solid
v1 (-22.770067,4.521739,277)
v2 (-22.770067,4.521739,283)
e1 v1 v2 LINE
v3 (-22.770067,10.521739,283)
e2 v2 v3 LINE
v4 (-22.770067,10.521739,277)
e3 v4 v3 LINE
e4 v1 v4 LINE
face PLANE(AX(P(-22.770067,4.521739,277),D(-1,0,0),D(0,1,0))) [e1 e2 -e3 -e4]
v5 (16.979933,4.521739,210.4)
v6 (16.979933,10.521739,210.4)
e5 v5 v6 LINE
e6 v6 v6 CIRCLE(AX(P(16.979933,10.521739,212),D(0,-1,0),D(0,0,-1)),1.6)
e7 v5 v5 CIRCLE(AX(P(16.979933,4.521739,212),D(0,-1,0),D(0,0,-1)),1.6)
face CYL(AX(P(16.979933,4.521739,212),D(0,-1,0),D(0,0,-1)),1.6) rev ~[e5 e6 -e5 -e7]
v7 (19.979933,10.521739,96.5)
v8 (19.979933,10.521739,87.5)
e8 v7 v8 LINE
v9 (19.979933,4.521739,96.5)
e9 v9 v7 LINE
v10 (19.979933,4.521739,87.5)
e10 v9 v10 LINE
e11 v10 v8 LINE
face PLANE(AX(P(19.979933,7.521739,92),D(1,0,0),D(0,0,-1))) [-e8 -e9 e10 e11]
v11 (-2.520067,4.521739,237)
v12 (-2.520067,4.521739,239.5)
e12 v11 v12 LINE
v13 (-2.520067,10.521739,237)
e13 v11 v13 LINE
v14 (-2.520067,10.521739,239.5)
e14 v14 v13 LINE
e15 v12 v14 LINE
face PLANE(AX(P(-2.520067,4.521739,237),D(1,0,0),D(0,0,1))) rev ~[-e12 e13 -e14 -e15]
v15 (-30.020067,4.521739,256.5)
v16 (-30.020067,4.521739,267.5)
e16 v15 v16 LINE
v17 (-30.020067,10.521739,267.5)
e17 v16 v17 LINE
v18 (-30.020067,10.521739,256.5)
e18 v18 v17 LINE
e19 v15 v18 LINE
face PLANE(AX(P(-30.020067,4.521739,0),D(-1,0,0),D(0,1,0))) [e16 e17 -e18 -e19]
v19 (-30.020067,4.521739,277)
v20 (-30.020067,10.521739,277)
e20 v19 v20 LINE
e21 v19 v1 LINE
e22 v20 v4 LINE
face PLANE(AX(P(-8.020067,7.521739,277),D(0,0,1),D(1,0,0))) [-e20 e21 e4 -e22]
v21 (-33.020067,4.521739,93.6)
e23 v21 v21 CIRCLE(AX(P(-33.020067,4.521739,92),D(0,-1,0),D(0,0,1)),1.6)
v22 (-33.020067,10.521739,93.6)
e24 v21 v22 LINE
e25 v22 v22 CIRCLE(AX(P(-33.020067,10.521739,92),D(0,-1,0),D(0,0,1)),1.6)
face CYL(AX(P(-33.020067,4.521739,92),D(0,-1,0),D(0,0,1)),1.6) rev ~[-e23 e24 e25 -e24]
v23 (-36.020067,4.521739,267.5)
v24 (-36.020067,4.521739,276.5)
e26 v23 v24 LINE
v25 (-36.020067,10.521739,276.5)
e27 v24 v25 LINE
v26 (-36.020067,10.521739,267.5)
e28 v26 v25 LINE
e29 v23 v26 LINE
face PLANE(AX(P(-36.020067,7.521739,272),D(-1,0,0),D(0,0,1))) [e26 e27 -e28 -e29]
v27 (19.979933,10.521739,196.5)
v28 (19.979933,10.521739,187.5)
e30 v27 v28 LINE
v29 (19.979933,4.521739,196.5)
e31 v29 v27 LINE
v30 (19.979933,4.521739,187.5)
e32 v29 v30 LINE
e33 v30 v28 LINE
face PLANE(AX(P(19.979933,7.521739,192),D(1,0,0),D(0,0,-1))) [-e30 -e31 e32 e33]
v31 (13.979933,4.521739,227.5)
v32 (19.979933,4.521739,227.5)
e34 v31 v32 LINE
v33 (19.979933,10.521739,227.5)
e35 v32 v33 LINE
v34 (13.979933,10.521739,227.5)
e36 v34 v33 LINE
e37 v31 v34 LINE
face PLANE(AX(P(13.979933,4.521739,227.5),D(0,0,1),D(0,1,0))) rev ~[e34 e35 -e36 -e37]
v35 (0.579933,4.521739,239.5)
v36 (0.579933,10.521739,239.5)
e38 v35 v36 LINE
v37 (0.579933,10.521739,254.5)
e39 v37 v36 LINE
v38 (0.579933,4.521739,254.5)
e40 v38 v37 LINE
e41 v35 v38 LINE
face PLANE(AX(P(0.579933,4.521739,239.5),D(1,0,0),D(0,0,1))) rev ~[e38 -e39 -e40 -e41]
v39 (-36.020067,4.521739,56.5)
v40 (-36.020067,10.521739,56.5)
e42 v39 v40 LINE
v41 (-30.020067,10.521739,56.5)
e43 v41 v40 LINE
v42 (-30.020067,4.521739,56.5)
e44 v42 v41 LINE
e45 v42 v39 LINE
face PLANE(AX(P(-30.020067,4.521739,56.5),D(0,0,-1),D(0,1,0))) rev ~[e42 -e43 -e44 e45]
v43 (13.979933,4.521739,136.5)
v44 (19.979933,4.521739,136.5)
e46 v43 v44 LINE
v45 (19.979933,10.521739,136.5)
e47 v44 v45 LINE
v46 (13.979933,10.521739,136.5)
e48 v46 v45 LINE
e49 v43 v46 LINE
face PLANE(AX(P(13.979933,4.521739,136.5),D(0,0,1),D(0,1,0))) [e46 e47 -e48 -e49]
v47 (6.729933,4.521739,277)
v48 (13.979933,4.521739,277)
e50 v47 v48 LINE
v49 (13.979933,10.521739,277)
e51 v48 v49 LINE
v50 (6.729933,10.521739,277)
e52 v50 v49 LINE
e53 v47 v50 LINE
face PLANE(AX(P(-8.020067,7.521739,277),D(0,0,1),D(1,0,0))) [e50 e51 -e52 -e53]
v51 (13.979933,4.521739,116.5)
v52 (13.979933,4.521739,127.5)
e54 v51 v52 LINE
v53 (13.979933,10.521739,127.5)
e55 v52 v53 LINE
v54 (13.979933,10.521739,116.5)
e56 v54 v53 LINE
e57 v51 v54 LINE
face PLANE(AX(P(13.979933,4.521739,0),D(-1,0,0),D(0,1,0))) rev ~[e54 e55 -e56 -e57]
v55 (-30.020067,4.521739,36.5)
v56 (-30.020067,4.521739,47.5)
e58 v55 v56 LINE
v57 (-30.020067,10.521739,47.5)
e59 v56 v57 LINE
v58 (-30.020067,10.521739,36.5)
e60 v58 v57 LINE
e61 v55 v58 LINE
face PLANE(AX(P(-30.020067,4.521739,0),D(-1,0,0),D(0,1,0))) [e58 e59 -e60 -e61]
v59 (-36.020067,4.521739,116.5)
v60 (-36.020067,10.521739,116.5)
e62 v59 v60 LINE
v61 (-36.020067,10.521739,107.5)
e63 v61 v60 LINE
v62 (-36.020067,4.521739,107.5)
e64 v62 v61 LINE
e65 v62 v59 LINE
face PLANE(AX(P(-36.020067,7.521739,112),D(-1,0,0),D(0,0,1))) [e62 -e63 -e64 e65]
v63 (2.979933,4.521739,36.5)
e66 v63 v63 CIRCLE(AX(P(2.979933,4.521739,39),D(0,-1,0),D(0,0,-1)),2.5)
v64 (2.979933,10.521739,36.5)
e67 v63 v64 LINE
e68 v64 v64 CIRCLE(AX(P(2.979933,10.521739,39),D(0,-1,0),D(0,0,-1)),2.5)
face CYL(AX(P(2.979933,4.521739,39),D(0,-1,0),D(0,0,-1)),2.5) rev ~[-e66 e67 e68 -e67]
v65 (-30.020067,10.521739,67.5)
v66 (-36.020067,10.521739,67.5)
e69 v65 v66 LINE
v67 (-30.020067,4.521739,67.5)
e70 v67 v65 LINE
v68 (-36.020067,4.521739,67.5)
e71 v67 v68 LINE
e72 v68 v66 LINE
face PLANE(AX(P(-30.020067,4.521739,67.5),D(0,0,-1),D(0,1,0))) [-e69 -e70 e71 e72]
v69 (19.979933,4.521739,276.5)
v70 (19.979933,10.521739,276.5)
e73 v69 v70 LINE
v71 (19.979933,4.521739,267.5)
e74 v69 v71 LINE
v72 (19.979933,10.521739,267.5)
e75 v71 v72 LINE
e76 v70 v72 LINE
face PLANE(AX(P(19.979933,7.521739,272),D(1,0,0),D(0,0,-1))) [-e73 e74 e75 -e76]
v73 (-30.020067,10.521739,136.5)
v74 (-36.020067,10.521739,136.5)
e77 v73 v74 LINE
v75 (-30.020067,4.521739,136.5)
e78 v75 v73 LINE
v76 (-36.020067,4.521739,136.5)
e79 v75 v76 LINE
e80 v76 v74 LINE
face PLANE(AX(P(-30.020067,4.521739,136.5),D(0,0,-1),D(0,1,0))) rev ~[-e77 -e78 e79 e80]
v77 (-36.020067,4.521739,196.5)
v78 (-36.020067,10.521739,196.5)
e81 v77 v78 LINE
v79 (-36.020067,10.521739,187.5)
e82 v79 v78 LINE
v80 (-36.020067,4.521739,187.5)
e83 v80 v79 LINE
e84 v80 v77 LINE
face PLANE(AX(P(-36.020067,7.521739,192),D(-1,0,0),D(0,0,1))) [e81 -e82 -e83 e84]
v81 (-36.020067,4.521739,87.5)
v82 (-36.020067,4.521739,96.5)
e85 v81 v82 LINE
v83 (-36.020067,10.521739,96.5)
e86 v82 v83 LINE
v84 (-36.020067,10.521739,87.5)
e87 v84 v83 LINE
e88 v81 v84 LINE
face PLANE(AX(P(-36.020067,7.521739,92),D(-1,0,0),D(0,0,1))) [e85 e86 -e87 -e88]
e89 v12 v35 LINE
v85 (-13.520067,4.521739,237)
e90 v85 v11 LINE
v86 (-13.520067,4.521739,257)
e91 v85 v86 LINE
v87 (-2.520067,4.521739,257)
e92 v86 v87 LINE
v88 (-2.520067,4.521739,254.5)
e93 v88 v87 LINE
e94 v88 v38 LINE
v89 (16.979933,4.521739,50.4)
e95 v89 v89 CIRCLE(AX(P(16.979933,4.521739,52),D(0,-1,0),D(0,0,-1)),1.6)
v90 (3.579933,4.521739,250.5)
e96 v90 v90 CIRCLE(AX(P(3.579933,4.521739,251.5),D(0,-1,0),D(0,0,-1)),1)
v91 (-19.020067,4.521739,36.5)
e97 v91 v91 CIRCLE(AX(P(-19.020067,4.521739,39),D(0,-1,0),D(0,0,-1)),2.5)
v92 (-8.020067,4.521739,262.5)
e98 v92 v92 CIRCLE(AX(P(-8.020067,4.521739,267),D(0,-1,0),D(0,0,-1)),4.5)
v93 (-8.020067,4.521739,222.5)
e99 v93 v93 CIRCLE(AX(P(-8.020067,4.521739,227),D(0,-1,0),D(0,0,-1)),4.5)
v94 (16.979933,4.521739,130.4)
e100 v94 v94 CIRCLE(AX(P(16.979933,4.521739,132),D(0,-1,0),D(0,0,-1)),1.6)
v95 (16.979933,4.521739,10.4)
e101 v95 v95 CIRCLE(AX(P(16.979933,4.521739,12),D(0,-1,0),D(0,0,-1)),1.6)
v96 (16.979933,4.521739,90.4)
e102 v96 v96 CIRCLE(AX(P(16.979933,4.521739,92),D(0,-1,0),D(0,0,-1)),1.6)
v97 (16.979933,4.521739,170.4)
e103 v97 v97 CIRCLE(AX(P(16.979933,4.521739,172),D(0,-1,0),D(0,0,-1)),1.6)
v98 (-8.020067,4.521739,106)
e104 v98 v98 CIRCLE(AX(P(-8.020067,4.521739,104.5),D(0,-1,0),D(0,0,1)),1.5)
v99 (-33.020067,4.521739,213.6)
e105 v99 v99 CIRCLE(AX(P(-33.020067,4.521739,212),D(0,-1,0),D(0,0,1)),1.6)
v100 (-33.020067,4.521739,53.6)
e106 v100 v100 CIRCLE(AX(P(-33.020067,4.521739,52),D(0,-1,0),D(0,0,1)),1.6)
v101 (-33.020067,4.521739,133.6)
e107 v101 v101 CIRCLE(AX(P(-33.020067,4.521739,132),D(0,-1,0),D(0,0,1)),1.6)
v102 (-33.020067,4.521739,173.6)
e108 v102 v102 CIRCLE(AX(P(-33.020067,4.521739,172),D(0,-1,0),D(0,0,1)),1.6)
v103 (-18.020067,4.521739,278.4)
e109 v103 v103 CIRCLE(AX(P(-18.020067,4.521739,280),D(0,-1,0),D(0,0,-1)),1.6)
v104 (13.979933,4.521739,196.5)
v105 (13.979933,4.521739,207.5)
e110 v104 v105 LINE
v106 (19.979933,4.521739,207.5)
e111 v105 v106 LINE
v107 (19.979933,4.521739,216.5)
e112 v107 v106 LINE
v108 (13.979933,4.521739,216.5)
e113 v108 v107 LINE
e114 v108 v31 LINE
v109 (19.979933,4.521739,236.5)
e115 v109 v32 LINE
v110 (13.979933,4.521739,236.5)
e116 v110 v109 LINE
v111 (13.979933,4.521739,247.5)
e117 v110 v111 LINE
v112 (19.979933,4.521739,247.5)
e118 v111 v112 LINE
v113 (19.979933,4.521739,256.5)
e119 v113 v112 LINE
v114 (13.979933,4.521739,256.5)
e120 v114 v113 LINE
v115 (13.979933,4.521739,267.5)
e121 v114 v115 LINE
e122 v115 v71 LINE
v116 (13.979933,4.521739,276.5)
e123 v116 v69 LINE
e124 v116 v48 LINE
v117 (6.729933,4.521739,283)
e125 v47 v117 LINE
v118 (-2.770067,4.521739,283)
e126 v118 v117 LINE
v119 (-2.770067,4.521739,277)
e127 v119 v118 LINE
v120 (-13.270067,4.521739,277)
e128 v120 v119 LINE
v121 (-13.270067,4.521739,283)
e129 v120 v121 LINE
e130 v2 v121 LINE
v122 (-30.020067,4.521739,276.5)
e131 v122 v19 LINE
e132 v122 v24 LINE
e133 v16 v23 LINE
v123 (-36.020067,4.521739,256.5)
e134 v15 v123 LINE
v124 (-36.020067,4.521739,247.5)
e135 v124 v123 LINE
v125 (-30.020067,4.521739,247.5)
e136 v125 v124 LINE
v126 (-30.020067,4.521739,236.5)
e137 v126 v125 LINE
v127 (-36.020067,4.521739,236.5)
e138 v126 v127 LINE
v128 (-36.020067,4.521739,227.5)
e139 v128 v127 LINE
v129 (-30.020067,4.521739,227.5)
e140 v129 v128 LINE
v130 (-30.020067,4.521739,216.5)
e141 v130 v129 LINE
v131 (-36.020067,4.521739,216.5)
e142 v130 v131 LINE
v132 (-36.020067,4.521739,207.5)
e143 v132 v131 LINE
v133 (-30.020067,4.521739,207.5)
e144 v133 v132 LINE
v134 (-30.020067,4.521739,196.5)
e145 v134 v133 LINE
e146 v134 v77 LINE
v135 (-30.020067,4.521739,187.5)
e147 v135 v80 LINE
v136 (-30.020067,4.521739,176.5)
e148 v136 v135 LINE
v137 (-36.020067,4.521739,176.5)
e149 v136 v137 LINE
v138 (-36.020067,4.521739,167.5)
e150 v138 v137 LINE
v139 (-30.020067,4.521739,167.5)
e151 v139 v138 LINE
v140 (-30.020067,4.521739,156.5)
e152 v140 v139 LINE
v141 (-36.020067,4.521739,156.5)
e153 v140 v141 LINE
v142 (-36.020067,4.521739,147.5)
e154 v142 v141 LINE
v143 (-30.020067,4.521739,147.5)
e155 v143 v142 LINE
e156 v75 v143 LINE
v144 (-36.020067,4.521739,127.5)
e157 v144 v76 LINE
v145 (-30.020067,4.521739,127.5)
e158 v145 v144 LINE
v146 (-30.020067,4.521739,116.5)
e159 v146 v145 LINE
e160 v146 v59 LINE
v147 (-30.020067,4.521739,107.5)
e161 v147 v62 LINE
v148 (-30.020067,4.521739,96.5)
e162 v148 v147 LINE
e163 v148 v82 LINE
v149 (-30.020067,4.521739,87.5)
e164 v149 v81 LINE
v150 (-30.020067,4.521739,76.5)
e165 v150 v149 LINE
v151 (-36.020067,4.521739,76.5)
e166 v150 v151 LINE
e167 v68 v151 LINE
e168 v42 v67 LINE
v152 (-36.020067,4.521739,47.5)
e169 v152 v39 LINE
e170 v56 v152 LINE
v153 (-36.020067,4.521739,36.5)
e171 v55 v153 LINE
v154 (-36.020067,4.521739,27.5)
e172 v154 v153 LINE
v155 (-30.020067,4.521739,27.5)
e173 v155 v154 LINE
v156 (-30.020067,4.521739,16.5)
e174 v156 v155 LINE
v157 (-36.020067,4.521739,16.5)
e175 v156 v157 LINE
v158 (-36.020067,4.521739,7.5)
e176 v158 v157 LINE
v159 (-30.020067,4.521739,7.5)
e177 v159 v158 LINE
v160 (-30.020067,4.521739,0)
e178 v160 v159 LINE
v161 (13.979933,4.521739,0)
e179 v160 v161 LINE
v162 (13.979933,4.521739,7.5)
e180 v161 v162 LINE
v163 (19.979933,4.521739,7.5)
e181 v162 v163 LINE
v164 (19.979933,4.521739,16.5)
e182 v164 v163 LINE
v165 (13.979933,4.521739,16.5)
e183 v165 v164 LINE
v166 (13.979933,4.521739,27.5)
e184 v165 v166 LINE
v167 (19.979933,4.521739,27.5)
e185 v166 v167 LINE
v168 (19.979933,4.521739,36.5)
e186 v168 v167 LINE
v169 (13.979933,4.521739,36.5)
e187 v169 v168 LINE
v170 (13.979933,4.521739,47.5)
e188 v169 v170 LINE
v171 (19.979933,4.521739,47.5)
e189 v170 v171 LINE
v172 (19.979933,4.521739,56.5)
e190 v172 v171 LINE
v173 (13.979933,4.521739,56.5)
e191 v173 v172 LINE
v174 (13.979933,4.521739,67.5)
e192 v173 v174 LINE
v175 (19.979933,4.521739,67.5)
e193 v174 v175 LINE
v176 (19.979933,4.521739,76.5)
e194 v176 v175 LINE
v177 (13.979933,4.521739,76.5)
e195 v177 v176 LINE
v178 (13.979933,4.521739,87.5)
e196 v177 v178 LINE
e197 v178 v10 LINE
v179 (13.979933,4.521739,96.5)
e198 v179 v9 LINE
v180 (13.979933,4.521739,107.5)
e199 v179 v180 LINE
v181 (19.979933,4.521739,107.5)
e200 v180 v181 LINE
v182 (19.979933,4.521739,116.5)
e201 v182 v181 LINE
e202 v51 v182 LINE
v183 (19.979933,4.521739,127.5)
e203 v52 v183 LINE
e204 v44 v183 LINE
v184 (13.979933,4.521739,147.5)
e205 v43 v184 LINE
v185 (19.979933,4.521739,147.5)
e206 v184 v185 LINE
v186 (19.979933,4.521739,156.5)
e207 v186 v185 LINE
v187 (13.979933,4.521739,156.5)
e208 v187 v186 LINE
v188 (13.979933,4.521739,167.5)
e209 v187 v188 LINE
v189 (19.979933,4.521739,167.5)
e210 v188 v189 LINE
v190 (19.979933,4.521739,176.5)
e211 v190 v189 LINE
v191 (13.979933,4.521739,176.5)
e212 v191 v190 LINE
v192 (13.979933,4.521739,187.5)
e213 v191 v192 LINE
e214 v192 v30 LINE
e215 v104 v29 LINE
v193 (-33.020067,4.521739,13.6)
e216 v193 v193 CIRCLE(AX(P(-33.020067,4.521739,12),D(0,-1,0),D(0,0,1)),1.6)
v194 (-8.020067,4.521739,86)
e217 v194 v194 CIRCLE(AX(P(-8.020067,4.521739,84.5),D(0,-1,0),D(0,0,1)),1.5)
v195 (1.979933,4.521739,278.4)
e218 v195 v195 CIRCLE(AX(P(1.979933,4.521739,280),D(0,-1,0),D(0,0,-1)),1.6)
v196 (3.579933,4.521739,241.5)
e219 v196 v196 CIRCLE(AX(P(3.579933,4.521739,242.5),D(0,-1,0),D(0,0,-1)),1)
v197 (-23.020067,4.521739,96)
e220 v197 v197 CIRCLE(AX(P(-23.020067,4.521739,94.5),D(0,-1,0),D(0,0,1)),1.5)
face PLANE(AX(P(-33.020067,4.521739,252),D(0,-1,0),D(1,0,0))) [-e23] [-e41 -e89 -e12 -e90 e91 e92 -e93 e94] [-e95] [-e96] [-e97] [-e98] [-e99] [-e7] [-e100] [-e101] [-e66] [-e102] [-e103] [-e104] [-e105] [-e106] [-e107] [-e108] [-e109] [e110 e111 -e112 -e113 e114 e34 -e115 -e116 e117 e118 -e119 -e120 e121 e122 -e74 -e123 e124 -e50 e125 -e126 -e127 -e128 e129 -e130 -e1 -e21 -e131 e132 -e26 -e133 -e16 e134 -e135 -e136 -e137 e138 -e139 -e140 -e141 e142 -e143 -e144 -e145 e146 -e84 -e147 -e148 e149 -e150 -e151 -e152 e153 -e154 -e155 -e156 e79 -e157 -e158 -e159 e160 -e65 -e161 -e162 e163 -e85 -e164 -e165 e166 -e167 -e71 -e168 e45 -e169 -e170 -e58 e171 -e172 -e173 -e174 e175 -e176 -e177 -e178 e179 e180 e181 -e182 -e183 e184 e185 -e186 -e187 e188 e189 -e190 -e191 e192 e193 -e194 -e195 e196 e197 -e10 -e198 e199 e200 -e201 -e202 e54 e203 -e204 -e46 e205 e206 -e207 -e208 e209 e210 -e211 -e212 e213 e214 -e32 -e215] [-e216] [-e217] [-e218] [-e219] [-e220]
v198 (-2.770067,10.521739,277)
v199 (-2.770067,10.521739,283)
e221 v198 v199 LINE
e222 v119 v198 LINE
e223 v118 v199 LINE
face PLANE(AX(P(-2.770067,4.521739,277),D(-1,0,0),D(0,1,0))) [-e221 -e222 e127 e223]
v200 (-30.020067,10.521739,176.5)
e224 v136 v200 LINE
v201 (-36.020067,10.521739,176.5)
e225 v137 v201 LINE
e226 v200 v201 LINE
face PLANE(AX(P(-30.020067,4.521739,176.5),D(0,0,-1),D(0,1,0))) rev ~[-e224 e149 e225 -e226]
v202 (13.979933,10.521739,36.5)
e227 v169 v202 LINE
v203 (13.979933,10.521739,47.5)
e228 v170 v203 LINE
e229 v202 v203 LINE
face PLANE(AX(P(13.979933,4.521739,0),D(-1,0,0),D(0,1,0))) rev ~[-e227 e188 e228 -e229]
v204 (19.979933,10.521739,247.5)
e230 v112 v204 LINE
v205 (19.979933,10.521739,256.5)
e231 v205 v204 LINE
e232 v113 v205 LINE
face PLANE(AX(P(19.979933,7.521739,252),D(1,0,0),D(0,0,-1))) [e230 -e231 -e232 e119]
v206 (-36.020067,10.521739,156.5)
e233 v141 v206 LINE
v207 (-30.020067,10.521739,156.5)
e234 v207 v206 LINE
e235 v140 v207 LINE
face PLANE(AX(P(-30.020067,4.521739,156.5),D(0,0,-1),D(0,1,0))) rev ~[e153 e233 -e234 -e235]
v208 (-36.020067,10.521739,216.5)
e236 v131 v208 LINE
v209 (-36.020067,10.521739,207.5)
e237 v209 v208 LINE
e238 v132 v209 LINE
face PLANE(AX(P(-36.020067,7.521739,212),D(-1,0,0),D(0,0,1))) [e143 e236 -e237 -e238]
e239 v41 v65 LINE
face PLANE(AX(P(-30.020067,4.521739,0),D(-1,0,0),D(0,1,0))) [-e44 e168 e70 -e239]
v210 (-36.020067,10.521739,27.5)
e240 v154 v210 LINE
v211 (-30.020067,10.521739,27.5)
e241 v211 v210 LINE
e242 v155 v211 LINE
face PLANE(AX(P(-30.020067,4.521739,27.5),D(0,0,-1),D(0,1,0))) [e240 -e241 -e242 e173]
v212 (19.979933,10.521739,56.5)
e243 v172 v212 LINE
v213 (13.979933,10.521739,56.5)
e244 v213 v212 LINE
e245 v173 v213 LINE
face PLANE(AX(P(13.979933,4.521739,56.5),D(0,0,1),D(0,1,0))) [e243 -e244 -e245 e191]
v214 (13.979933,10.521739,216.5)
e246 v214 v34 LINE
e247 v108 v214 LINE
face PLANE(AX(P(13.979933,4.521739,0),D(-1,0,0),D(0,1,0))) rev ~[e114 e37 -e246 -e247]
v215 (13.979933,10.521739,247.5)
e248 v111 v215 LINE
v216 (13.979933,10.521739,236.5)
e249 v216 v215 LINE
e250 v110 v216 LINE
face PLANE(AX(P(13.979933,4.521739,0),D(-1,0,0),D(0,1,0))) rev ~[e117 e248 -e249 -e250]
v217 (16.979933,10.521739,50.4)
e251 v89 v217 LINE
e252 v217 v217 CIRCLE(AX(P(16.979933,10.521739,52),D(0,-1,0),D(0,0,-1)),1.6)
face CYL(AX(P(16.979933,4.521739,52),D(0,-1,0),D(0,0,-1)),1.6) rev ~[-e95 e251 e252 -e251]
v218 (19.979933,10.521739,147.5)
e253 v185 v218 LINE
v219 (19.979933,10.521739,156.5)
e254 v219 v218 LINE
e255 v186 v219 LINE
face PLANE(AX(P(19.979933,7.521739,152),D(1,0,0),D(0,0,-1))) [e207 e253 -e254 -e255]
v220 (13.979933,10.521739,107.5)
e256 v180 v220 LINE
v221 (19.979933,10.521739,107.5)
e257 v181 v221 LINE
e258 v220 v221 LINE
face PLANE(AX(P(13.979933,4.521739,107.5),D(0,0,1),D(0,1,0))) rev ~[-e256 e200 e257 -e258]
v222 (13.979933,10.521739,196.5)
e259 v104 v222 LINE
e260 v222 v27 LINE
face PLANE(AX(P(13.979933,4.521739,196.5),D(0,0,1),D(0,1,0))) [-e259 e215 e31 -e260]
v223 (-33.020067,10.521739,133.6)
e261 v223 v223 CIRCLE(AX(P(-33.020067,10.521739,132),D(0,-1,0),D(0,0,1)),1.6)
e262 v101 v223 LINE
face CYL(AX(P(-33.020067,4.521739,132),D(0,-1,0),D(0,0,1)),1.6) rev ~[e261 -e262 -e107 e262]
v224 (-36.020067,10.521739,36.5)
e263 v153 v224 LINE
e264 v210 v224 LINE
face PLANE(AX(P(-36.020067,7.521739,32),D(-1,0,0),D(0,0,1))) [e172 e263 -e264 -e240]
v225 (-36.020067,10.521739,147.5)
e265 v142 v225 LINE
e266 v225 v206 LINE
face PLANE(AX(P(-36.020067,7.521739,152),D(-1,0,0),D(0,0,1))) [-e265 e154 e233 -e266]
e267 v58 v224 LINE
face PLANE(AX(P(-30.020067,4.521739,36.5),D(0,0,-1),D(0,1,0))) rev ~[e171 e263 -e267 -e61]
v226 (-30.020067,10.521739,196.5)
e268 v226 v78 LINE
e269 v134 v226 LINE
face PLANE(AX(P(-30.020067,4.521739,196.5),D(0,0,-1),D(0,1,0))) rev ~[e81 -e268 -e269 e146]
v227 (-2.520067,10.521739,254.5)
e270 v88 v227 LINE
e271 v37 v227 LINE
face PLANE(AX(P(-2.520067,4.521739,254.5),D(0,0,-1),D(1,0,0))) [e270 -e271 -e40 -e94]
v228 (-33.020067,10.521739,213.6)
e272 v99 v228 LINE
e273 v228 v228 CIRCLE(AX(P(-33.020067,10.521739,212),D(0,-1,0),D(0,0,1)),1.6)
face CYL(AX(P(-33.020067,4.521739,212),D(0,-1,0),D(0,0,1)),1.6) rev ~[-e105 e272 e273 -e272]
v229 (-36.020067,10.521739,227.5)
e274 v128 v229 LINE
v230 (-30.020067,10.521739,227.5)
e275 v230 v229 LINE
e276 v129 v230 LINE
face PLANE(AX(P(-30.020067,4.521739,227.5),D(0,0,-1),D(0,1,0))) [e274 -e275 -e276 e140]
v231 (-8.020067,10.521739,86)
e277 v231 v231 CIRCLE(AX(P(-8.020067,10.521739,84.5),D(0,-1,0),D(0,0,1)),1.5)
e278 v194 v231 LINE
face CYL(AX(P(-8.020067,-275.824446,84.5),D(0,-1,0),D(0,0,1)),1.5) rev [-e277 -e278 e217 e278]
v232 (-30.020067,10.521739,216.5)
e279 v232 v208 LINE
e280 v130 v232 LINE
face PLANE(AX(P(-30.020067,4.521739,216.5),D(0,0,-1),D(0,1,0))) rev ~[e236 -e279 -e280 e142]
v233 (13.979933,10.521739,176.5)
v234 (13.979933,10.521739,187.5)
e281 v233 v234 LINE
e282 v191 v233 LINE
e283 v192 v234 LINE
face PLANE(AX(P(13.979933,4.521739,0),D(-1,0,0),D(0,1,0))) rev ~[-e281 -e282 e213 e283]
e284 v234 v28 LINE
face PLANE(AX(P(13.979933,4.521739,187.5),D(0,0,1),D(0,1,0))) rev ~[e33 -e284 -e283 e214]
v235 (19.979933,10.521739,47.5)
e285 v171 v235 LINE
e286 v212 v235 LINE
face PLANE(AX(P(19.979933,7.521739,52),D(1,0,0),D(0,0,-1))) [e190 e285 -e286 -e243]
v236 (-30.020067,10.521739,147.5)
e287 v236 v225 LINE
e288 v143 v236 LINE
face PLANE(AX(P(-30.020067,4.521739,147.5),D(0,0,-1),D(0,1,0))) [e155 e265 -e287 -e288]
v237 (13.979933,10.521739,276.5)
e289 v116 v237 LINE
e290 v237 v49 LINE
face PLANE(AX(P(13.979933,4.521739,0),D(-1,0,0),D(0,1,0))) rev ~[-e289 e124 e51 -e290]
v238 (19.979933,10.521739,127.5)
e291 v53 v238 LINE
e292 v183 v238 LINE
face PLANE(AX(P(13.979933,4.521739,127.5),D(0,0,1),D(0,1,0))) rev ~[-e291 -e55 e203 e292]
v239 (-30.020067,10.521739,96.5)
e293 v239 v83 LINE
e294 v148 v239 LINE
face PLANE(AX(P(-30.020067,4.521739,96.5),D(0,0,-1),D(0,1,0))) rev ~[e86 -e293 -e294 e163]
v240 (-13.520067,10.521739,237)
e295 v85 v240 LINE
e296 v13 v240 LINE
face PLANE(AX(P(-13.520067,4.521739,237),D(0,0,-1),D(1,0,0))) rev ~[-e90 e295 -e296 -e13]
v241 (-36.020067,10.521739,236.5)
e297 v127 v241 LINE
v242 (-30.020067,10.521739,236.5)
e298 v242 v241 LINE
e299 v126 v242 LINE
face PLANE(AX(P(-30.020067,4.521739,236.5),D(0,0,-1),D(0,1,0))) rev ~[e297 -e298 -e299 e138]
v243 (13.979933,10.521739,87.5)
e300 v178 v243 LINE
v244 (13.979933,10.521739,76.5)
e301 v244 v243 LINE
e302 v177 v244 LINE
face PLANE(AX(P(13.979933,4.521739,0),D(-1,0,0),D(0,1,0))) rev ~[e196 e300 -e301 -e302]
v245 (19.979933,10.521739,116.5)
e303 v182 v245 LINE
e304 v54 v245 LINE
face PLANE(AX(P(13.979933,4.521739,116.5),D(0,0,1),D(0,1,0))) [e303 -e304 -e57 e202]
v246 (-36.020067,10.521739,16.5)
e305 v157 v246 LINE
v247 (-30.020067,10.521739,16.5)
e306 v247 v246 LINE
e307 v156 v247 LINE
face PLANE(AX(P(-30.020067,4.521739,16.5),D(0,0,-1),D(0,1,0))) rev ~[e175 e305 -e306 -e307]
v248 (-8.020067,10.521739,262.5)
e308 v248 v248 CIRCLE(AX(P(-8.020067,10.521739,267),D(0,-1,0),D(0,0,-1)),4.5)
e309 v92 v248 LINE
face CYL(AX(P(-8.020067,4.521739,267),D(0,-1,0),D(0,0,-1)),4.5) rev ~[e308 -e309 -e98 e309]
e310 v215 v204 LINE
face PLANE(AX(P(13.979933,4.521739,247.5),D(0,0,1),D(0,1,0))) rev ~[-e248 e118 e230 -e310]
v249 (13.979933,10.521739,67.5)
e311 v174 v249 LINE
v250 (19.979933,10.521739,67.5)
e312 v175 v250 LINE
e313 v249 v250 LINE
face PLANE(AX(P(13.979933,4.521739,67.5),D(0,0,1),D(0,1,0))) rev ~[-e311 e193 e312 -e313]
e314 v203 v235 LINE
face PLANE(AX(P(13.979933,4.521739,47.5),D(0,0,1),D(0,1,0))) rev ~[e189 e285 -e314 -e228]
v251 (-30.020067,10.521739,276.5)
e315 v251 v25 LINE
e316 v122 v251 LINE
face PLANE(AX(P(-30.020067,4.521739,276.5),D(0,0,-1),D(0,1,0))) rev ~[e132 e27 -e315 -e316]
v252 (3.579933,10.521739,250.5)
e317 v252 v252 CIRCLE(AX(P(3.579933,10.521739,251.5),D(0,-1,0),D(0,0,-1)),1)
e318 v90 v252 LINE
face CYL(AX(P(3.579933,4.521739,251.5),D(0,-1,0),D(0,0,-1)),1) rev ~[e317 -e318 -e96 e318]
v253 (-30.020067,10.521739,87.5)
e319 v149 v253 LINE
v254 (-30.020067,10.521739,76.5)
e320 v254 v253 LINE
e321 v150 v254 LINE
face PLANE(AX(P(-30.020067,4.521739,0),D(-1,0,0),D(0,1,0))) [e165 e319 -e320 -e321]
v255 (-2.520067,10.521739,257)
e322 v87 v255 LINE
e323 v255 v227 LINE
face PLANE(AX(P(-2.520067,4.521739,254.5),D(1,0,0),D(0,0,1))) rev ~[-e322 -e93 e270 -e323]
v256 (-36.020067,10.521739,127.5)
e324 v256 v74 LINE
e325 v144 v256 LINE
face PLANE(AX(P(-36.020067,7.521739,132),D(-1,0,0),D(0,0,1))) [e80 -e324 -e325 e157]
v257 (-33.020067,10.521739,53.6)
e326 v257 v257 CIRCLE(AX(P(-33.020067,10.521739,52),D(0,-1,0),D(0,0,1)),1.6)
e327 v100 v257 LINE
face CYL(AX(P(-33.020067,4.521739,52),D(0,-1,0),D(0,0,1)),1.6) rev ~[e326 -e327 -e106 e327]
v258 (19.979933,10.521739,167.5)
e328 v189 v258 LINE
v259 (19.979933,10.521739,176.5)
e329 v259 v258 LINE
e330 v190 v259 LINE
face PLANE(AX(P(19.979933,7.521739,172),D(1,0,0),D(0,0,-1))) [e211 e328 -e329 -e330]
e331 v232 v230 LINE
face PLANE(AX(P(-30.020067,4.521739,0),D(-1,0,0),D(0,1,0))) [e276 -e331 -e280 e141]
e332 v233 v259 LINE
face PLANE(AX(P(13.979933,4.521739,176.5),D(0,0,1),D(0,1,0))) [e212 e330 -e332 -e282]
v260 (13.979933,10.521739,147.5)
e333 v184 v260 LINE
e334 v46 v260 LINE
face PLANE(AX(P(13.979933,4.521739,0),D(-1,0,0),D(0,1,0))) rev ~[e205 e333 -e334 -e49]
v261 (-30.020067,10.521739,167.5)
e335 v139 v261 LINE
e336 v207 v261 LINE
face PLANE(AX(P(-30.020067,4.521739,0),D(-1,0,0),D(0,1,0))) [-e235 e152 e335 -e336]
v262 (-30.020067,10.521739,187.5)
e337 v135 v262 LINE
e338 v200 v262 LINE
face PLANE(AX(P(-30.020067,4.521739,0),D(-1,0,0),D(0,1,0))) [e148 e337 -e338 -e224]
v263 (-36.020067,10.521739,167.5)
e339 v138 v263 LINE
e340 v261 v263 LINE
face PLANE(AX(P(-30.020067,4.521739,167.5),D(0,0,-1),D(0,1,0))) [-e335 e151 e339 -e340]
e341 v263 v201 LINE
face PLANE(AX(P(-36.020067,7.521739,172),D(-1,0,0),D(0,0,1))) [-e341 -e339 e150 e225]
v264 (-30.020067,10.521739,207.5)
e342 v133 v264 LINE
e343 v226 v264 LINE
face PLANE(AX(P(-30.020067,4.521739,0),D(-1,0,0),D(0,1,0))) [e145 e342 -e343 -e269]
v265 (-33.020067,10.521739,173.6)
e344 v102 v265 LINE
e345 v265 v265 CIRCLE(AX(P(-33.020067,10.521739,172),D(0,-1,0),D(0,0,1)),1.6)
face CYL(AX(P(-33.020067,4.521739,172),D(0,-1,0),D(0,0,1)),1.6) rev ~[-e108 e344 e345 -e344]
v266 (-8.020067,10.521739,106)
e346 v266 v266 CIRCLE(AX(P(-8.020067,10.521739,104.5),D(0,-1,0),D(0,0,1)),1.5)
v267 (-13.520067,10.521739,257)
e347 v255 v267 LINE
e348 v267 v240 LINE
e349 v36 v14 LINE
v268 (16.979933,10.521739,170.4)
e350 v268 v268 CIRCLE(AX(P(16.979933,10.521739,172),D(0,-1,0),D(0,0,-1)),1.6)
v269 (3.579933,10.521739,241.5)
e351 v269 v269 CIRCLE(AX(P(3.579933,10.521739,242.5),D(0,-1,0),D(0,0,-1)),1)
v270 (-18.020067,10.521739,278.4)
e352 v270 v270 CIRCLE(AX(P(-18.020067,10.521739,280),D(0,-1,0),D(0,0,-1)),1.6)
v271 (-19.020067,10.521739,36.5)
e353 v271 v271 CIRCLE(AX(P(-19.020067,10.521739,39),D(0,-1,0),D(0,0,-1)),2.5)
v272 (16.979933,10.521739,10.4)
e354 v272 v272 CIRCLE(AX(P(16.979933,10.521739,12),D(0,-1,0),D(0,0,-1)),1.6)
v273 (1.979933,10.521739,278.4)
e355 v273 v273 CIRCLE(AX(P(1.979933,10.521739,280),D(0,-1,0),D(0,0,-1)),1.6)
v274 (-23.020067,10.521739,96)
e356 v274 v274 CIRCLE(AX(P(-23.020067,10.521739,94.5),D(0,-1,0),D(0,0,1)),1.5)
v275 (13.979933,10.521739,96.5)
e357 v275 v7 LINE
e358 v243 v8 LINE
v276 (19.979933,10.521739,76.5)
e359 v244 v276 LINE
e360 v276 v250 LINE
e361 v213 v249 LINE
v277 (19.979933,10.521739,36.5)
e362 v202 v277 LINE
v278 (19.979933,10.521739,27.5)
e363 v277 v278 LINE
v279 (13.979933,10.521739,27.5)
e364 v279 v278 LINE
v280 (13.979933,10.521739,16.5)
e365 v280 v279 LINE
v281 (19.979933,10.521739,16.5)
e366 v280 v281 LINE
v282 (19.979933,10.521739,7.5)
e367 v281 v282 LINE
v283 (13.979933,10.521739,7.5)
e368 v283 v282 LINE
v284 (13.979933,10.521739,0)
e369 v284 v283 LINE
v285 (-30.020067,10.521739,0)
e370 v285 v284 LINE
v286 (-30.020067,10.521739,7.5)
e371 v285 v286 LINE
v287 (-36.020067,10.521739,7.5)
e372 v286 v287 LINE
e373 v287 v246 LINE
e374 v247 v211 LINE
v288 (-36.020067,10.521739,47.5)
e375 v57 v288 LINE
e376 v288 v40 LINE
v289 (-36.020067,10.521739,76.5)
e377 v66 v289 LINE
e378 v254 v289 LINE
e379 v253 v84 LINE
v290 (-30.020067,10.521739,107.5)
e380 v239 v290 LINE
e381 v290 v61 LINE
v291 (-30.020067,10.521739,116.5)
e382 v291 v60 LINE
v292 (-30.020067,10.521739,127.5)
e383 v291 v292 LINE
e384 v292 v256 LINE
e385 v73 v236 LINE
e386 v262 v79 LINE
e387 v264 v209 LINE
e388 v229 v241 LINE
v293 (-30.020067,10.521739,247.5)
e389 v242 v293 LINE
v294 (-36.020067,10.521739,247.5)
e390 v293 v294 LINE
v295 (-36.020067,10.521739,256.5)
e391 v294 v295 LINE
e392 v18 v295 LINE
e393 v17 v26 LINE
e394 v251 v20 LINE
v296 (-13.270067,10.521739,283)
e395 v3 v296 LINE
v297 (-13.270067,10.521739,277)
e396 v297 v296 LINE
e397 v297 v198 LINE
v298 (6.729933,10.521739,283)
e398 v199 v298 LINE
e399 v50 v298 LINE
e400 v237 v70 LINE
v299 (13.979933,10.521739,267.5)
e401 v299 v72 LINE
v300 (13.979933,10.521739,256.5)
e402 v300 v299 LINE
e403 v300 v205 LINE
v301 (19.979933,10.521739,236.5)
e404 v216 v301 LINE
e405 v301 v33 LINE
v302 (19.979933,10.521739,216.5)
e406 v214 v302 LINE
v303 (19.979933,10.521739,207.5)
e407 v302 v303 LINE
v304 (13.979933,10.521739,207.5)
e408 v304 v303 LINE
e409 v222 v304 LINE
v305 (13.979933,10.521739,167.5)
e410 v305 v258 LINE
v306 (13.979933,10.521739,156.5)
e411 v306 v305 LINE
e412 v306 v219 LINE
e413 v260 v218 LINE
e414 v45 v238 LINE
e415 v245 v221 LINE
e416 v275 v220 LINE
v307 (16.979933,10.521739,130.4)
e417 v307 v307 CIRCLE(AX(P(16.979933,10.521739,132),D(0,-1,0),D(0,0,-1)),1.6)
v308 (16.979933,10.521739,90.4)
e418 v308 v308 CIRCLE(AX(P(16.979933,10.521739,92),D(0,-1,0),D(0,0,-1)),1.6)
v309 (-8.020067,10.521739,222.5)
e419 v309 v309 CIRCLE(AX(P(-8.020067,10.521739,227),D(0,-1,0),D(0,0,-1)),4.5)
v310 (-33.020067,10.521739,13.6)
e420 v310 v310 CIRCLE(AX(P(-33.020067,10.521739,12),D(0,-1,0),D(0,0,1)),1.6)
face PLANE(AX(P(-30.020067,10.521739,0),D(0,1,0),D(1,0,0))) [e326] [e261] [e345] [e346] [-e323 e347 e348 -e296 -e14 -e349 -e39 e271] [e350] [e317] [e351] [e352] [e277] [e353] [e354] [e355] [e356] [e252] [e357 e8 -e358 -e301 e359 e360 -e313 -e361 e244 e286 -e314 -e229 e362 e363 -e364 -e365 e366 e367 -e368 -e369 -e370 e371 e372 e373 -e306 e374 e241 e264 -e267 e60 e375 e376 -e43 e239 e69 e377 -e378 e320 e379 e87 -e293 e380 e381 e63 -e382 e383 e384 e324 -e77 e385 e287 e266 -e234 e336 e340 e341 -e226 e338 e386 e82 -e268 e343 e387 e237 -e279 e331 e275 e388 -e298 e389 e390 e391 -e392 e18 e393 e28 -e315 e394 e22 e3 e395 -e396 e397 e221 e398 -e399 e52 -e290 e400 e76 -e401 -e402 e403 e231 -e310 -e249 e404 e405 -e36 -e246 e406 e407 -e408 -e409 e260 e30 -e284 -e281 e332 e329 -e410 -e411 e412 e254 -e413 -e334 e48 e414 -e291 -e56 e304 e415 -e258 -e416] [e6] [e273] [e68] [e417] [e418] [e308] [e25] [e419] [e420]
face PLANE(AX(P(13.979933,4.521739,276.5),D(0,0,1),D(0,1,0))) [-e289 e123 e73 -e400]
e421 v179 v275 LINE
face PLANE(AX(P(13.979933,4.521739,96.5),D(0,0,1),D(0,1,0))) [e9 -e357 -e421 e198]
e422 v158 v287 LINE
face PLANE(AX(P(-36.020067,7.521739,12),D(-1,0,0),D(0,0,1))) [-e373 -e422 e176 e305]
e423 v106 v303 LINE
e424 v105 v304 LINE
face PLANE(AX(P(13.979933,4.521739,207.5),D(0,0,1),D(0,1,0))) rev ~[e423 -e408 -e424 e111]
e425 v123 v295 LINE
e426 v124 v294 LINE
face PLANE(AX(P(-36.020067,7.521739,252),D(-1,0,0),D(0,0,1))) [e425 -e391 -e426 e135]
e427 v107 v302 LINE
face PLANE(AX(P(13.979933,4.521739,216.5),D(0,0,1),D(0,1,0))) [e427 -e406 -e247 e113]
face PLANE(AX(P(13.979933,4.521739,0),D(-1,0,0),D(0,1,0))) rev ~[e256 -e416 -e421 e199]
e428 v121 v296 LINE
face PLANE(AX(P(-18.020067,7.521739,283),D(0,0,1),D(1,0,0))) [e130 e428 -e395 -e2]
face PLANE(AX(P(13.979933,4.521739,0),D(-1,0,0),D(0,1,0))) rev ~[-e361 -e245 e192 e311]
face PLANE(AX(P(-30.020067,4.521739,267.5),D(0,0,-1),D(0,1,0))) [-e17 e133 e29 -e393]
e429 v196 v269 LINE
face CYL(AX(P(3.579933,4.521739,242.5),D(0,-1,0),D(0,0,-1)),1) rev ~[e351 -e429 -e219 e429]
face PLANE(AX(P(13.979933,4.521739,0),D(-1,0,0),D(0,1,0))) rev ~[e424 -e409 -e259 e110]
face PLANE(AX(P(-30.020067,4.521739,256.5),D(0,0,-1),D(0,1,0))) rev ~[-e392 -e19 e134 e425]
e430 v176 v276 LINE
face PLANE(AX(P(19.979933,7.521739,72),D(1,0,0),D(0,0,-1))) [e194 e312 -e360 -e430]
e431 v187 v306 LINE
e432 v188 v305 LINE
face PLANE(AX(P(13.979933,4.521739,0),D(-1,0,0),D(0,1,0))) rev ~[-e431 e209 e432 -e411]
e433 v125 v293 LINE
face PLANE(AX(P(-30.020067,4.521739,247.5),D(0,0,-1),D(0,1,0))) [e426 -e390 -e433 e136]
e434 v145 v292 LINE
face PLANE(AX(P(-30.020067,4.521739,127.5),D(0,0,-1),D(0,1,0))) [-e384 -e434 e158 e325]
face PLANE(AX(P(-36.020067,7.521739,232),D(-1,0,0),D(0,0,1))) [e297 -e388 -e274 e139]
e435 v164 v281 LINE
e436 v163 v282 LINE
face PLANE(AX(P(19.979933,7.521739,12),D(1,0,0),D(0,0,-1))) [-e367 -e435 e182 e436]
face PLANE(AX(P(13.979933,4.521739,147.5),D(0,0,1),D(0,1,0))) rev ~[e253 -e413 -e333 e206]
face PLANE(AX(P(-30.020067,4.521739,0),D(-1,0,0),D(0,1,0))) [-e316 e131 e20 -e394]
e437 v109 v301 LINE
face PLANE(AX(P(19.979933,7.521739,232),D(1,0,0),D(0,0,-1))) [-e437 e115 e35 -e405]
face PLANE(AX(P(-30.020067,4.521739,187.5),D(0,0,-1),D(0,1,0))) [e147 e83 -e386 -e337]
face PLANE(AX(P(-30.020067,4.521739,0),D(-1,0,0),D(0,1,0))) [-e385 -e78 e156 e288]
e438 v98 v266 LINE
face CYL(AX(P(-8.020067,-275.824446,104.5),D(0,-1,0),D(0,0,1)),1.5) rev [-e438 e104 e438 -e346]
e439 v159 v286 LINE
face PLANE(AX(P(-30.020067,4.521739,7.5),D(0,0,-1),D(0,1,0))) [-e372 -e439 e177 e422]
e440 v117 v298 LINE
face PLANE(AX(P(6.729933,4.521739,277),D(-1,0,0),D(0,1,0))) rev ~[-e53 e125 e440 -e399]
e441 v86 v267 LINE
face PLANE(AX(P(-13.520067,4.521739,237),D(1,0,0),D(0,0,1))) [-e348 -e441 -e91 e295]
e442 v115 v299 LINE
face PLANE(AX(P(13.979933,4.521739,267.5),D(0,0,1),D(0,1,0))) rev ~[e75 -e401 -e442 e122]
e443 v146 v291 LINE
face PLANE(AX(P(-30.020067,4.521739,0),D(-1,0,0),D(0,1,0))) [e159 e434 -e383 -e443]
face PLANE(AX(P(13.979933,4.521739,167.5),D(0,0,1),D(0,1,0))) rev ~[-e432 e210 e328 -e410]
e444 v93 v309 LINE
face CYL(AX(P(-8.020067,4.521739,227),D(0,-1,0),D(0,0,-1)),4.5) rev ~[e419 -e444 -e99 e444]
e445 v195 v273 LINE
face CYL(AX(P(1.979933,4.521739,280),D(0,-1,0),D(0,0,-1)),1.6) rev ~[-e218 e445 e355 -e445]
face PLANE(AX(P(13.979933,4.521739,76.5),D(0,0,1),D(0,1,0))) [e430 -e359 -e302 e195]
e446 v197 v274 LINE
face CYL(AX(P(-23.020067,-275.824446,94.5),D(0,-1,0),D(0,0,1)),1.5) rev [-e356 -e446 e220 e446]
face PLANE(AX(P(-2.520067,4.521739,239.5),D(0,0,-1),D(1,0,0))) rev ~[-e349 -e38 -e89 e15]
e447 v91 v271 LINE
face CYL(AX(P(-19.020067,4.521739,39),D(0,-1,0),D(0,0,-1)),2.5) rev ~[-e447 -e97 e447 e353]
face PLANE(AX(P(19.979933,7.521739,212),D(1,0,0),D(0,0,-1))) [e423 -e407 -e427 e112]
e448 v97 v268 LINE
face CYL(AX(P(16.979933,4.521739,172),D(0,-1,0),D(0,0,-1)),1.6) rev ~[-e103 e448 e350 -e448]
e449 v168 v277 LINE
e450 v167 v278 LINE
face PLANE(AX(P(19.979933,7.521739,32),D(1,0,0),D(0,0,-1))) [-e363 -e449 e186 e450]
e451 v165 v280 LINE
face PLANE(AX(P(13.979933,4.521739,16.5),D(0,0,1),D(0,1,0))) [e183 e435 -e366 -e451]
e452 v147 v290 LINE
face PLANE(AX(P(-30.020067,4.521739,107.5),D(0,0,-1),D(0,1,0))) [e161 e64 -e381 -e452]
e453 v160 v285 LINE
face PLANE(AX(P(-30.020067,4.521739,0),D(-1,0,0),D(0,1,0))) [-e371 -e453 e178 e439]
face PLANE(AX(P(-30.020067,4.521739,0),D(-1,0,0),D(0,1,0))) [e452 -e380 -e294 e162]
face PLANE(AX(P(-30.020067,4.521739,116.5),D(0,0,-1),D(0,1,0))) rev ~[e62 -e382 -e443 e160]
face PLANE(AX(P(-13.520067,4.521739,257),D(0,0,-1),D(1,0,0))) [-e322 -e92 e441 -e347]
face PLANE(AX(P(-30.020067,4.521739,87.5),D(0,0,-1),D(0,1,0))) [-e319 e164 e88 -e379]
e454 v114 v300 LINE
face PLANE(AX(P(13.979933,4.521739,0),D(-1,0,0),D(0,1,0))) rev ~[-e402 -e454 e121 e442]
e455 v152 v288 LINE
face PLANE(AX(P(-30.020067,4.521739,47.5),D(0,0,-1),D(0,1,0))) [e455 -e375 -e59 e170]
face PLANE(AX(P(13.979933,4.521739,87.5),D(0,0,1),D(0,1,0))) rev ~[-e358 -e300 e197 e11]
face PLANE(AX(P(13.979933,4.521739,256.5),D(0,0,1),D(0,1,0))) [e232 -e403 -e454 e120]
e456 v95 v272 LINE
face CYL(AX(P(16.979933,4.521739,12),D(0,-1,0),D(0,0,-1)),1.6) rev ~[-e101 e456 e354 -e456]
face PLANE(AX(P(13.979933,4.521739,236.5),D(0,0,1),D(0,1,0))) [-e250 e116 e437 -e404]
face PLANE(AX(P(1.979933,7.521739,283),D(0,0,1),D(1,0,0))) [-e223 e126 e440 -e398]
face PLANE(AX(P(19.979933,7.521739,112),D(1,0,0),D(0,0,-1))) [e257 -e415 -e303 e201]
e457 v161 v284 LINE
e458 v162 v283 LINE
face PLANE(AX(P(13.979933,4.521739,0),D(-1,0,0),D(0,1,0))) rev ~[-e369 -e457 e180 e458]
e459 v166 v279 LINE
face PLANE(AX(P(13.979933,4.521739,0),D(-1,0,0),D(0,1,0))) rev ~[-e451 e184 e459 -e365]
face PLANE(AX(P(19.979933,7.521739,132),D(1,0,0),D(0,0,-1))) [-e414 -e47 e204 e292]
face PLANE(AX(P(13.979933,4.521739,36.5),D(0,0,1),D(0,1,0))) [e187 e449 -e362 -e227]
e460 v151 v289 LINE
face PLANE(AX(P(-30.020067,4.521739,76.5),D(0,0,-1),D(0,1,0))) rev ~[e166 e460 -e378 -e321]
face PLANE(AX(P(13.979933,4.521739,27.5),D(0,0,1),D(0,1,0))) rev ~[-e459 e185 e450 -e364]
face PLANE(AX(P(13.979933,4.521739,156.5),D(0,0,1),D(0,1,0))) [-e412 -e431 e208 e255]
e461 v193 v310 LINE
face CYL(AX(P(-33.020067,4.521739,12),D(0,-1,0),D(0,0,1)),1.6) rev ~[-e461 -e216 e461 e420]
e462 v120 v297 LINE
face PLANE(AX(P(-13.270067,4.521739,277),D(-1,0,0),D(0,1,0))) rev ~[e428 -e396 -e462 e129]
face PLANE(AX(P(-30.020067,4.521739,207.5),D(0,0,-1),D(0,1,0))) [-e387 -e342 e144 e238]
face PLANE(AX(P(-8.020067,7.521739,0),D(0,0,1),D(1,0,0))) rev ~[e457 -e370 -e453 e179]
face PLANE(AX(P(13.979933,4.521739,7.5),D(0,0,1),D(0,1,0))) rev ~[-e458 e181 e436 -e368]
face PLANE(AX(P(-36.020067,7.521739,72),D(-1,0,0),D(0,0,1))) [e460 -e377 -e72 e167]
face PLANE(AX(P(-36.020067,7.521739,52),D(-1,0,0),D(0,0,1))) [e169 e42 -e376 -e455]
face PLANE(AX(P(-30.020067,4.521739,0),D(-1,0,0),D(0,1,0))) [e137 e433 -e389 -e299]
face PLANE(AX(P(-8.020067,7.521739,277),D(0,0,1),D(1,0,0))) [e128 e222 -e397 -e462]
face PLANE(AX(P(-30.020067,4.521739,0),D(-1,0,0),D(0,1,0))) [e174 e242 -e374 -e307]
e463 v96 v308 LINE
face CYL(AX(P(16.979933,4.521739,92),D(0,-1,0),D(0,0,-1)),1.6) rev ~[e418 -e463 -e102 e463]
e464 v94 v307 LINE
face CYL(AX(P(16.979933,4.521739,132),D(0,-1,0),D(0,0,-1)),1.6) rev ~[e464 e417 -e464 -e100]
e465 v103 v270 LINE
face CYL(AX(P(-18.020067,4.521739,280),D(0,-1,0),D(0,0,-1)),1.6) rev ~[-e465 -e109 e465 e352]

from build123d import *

# Parameters (mm, degrees)
SKETCH1_W               = 44
SKETCH1_H               = 6
BOSS_EXTRUDE1_DEPTH     = 277
SKETCH4_W               = 9
SKETCH4_H               = 6
BOSS_EXTRUDE2_DEPTH     = 6
SKETCH5_W               = 9
SKETCH5_H               = 6
BOSS_EXTRUDE3_DEPTH     = 6
SKETCH6_W               = 9.5
SKETCH6_H               = 6
BOSS_EXTRUDE4_DEPTH     = 6
SKETCH7_R               = 1.6
CUT_EXTRUDE1_DEPTH      = 286.346184868
SKETCH8_R               = 2.5
CUT_EXTRUDE2_DEPTH      = 12
SKETCH9_R               = 1.6
CUT_EXTRUDE3_DEPTH      = 12
SKETCH11_W              = 11
SKETCH11_H              = 20
SKETCH11_W_2            = 3.1
SKETCH11_H_2            = 15
SKETCH11_R              = 4.5
SKETCH11_R_2            = 1
CUT_EXTRUDE4_DEPTH      = 286.346184868
SKETCH7_2_R             = 1.6
BOSS_EXTRUDE5_DEPTH     = 6
CUT_EXTRUDE5_DEPTH      = 286.346184868
CUT_EXTRUDE5_DEPTH_BACK = 286.346184868
SKETCH12_R              = 1.5


with BuildPart() as part:
    # Sketch1 → Boss-Extrude1 (new body)
    with BuildSketch(Plane.XY):
        with Locations((-8.02006689, 7.52173913)):
            Rectangle(SKETCH1_W, SKETCH1_H)
    extrude(amount=BOSS_EXTRUDE1_DEPTH)

    # Sketch4 → Boss-Extrude2 (add)
    with BuildSketch(Plane(origin=(13.97993311, 0, 0), x_dir=(0, 0, -1), z_dir=(1, 0, 0))):
        with Locations((-272, 7.52173913)):
            Rectangle(SKETCH4_W, SKETCH4_H)
        with Locations((-252, 7.52173913)):
            Rectangle(SKETCH4_W, SKETCH4_H)
        with Locations((-232, 7.52173913)):
            Rectangle(SKETCH4_W, SKETCH4_H)
        with Locations((-212, 7.52173913)):
            Rectangle(SKETCH4_W, SKETCH4_H)
        with Locations((-192, 7.52173913)):
            Rectangle(SKETCH4_W, SKETCH4_H)
        with Locations((-172, 7.52173913)):
            Rectangle(SKETCH4_W, SKETCH4_H)
        with Locations((-152, 7.52173913)):
            Rectangle(SKETCH4_W, SKETCH4_H)
        with Locations((-132, 7.52173913)):
            Rectangle(SKETCH4_W, SKETCH4_H)
        with Locations((-112, 7.52173913)):
            Rectangle(SKETCH4_W, SKETCH4_H)
        with Locations((-92, 7.52173913)):
            Rectangle(SKETCH4_W, SKETCH4_H)
        with Locations((-72, 7.52173913)):
            Rectangle(SKETCH4_W, SKETCH4_H)
        with Locations((-52, 7.52173913)):
            Rectangle(SKETCH4_W, SKETCH4_H)
        with Locations((-32, 7.52173913)):
            Rectangle(SKETCH4_W, SKETCH4_H)
        with Locations((-12, 7.52173913)):
            Rectangle(SKETCH4_W, SKETCH4_H)
    extrude(amount=BOSS_EXTRUDE2_DEPTH)

    # Sketch5 → Boss-Extrude3 (add)
    with BuildSketch(Plane.ZY.offset(30.02006689)):
        with Locations((272, 7.52173913)):
            Rectangle(SKETCH5_W, SKETCH5_H)
        with Locations((252, 7.52173913)):
            Rectangle(SKETCH5_W, SKETCH5_H)
        with Locations((232, 7.52173913)):
            Rectangle(SKETCH5_W, SKETCH5_H)
        with Locations((212, 7.52173913)):
            Rectangle(SKETCH5_W, SKETCH5_H)
        with Locations((192, 7.52173913)):
            Rectangle(SKETCH5_W, SKETCH5_H)
        with Locations((172, 7.52173913)):
            Rectangle(SKETCH5_W, SKETCH5_H)
        with Locations((152, 7.52173913)):
            Rectangle(SKETCH5_W, SKETCH5_H)
        with Locations((132, 7.52173913)):
            Rectangle(SKETCH5_W, SKETCH5_H)
        with Locations((112, 7.52173913)):
            Rectangle(SKETCH5_W, SKETCH5_H)
        with Locations((92, 7.52173913)):
            Rectangle(SKETCH5_W, SKETCH5_H)
        with Locations((72, 7.52173913)):
            Rectangle(SKETCH5_W, SKETCH5_H)
        with Locations((52, 7.52173913)):
            Rectangle(SKETCH5_W, SKETCH5_H)
        with Locations((32, 7.52173913)):
            Rectangle(SKETCH5_W, SKETCH5_H)
        with Locations((12, 7.52173913)):
            Rectangle(SKETCH5_W, SKETCH5_H)
    extrude(amount=BOSS_EXTRUDE3_DEPTH)

    # Sketch6 → Boss-Extrude4 (add)
    with BuildSketch(Plane.XY.offset(277)):
        with Locations((-18.02006689, 7.52173913)):
            Rectangle(SKETCH6_W, SKETCH6_H)
        with Locations((1.97993311, 7.52173913)):
            Rectangle(SKETCH6_W, SKETCH6_H)
    extrude(amount=BOSS_EXTRUDE4_DEPTH)

    # Sketch7 → Cut-Extrude1 (cut, through all)
    with BuildSketch(Plane.XZ.offset(-4.52173913)):
        with Locations(Location((16.97993311, 252, 0), (0, 0, 270))):
            Circle(SKETCH7_R)
        with Locations(Location((-33.02006689, 252, 0), (0, 0, 90))):
            Circle(SKETCH7_R)
        with Locations(Location((-33.02006689, 212, 0), (0, 0, 90))):
            Circle(SKETCH7_R)
        with Locations(Location((16.97993311, 212, 0), (0, 0, 270))):
            Circle(SKETCH7_R)
        with Locations(Location((-33.02006689, 172, 0), (0, 0, 90))):
            Circle(SKETCH7_R)
        with Locations(Location((16.97993311, 172, 0), (0, 0, 270))):
            Circle(SKETCH7_R)
        with Locations(Location((-33.02006689, 132, 0), (0, 0, 90))):
            Circle(SKETCH7_R)
        with Locations(Location((16.97993311, 132, 0), (0, 0, 270))):
            Circle(SKETCH7_R)
        with Locations(Location((-33.02006689, 92, 0), (0, 0, 90))):
            Circle(SKETCH7_R)
        with Locations(Location((16.97993311, 92, 0), (0, 0, 270))):
            Circle(SKETCH7_R)
        with Locations(Location((-33.02006689, 52, 0), (0, 0, 90))):
            Circle(SKETCH7_R)
        with Locations(Location((16.97993311, 52, 0), (0, 0, 270))):
            Circle(SKETCH7_R)
        with Locations(Location((-33.02006689, 12, 0), (0, 0, 90))):
            Circle(SKETCH7_R)
        with Locations(Location((16.97993311, 12, 0), (0, 0, 270))):
            Circle(SKETCH7_R)
    extrude(amount=-CUT_EXTRUDE1_DEPTH, mode=Mode.SUBTRACT)

    # Sketch8 → Cut-Extrude2 (cut)
    with BuildSketch(Plane.XZ.offset(-4.52173913)):
        with Locations(Location((-19.02006689, 39, 0), (0, 0, 270))):
            Circle(SKETCH8_R)
        with Locations(Location((2.97993311, 39, 0), (0, 0, 270))):
            Circle(SKETCH8_R)
    extrude(amount=-CUT_EXTRUDE2_DEPTH, mode=Mode.SUBTRACT)

    # Sketch9 → Cut-Extrude3 (cut)
    with BuildSketch(Plane(origin=(0, 4.52173913, 0), x_dir=(-1, 0, 0), z_dir=(0, -1, 0))):
        with Locations(Location((18.02006689, -280, 0), (0, 0, 90))):
            Circle(SKETCH9_R)
        with Locations(Location((-1.97993311, -280, 0), (0, 0, 90))):
            Circle(SKETCH9_R)
    extrude(amount=-CUT_EXTRUDE3_DEPTH, mode=Mode.SUBTRACT)

    # Sketch11 → Cut-Extrude4 (cut, through all)
    with BuildSketch(Plane.XZ.offset(-4.52173913)):
        with Locations((-8.02006689, 247)):
            Rectangle(SKETCH11_W, SKETCH11_H)
        with Locations((-0.97006689, 247)):
            Rectangle(SKETCH11_W_2, SKETCH11_H_2)
        with Locations(Location((-8.02006689, 267, 0), (0, 0, 270))):
            Circle(SKETCH11_R)
        with Locations(Location((-8.02006689, 227, 0), (0, 0, 270))):
            Circle(SKETCH11_R)
        with Locations(Location((3.57993311, 251.5, 0), (0, 0, 270))):
            Circle(SKETCH11_R_2)
        with Locations(Location((3.57993311, 242.5, 0), (0, 0, 270))):
            Circle(SKETCH11_R_2)
    extrude(amount=-CUT_EXTRUDE4_DEPTH, mode=Mode.SUBTRACT)

    # Sketch7<2> → Boss-Extrude5 (add, through all)
    with BuildSketch(Plane.XZ.offset(-4.52173913)):
        with Locations((-33.02006689, 252)):
            Circle(SKETCH7_2_R)
        with Locations((16.97993311, 252)):
            Circle(SKETCH7_2_R)
    extrude(amount=-BOSS_EXTRUDE5_DEPTH)

    # Sketch12 → Cut-Extrude5 (cut, two sides: drawn at the far end of the back side and taken through both)
    with BuildSketch(Plane(origin=(0, 10.52173913, 0), x_dir=(1, 0, 0), z_dir=(0, 1, 0)).offset(-CUT_EXTRUDE5_DEPTH_BACK)):
        with Locations(Location((-8.02006689, -104.5, 0), (0, 0, 270))):
            Circle(SKETCH12_R)
        with Locations(Location((-8.02006689, -84.5, 0), (0, 0, 270))):
            Circle(SKETCH12_R)
        with Locations(Location((-23.02006689, -94.5, 0), (0, 0, 270))):
            Circle(SKETCH12_R)
    extrude(amount=CUT_EXTRUDE5_DEPTH + CUT_EXTRUDE5_DEPTH_BACK, mode=Mode.SUBTRACT)


solid = part.part
